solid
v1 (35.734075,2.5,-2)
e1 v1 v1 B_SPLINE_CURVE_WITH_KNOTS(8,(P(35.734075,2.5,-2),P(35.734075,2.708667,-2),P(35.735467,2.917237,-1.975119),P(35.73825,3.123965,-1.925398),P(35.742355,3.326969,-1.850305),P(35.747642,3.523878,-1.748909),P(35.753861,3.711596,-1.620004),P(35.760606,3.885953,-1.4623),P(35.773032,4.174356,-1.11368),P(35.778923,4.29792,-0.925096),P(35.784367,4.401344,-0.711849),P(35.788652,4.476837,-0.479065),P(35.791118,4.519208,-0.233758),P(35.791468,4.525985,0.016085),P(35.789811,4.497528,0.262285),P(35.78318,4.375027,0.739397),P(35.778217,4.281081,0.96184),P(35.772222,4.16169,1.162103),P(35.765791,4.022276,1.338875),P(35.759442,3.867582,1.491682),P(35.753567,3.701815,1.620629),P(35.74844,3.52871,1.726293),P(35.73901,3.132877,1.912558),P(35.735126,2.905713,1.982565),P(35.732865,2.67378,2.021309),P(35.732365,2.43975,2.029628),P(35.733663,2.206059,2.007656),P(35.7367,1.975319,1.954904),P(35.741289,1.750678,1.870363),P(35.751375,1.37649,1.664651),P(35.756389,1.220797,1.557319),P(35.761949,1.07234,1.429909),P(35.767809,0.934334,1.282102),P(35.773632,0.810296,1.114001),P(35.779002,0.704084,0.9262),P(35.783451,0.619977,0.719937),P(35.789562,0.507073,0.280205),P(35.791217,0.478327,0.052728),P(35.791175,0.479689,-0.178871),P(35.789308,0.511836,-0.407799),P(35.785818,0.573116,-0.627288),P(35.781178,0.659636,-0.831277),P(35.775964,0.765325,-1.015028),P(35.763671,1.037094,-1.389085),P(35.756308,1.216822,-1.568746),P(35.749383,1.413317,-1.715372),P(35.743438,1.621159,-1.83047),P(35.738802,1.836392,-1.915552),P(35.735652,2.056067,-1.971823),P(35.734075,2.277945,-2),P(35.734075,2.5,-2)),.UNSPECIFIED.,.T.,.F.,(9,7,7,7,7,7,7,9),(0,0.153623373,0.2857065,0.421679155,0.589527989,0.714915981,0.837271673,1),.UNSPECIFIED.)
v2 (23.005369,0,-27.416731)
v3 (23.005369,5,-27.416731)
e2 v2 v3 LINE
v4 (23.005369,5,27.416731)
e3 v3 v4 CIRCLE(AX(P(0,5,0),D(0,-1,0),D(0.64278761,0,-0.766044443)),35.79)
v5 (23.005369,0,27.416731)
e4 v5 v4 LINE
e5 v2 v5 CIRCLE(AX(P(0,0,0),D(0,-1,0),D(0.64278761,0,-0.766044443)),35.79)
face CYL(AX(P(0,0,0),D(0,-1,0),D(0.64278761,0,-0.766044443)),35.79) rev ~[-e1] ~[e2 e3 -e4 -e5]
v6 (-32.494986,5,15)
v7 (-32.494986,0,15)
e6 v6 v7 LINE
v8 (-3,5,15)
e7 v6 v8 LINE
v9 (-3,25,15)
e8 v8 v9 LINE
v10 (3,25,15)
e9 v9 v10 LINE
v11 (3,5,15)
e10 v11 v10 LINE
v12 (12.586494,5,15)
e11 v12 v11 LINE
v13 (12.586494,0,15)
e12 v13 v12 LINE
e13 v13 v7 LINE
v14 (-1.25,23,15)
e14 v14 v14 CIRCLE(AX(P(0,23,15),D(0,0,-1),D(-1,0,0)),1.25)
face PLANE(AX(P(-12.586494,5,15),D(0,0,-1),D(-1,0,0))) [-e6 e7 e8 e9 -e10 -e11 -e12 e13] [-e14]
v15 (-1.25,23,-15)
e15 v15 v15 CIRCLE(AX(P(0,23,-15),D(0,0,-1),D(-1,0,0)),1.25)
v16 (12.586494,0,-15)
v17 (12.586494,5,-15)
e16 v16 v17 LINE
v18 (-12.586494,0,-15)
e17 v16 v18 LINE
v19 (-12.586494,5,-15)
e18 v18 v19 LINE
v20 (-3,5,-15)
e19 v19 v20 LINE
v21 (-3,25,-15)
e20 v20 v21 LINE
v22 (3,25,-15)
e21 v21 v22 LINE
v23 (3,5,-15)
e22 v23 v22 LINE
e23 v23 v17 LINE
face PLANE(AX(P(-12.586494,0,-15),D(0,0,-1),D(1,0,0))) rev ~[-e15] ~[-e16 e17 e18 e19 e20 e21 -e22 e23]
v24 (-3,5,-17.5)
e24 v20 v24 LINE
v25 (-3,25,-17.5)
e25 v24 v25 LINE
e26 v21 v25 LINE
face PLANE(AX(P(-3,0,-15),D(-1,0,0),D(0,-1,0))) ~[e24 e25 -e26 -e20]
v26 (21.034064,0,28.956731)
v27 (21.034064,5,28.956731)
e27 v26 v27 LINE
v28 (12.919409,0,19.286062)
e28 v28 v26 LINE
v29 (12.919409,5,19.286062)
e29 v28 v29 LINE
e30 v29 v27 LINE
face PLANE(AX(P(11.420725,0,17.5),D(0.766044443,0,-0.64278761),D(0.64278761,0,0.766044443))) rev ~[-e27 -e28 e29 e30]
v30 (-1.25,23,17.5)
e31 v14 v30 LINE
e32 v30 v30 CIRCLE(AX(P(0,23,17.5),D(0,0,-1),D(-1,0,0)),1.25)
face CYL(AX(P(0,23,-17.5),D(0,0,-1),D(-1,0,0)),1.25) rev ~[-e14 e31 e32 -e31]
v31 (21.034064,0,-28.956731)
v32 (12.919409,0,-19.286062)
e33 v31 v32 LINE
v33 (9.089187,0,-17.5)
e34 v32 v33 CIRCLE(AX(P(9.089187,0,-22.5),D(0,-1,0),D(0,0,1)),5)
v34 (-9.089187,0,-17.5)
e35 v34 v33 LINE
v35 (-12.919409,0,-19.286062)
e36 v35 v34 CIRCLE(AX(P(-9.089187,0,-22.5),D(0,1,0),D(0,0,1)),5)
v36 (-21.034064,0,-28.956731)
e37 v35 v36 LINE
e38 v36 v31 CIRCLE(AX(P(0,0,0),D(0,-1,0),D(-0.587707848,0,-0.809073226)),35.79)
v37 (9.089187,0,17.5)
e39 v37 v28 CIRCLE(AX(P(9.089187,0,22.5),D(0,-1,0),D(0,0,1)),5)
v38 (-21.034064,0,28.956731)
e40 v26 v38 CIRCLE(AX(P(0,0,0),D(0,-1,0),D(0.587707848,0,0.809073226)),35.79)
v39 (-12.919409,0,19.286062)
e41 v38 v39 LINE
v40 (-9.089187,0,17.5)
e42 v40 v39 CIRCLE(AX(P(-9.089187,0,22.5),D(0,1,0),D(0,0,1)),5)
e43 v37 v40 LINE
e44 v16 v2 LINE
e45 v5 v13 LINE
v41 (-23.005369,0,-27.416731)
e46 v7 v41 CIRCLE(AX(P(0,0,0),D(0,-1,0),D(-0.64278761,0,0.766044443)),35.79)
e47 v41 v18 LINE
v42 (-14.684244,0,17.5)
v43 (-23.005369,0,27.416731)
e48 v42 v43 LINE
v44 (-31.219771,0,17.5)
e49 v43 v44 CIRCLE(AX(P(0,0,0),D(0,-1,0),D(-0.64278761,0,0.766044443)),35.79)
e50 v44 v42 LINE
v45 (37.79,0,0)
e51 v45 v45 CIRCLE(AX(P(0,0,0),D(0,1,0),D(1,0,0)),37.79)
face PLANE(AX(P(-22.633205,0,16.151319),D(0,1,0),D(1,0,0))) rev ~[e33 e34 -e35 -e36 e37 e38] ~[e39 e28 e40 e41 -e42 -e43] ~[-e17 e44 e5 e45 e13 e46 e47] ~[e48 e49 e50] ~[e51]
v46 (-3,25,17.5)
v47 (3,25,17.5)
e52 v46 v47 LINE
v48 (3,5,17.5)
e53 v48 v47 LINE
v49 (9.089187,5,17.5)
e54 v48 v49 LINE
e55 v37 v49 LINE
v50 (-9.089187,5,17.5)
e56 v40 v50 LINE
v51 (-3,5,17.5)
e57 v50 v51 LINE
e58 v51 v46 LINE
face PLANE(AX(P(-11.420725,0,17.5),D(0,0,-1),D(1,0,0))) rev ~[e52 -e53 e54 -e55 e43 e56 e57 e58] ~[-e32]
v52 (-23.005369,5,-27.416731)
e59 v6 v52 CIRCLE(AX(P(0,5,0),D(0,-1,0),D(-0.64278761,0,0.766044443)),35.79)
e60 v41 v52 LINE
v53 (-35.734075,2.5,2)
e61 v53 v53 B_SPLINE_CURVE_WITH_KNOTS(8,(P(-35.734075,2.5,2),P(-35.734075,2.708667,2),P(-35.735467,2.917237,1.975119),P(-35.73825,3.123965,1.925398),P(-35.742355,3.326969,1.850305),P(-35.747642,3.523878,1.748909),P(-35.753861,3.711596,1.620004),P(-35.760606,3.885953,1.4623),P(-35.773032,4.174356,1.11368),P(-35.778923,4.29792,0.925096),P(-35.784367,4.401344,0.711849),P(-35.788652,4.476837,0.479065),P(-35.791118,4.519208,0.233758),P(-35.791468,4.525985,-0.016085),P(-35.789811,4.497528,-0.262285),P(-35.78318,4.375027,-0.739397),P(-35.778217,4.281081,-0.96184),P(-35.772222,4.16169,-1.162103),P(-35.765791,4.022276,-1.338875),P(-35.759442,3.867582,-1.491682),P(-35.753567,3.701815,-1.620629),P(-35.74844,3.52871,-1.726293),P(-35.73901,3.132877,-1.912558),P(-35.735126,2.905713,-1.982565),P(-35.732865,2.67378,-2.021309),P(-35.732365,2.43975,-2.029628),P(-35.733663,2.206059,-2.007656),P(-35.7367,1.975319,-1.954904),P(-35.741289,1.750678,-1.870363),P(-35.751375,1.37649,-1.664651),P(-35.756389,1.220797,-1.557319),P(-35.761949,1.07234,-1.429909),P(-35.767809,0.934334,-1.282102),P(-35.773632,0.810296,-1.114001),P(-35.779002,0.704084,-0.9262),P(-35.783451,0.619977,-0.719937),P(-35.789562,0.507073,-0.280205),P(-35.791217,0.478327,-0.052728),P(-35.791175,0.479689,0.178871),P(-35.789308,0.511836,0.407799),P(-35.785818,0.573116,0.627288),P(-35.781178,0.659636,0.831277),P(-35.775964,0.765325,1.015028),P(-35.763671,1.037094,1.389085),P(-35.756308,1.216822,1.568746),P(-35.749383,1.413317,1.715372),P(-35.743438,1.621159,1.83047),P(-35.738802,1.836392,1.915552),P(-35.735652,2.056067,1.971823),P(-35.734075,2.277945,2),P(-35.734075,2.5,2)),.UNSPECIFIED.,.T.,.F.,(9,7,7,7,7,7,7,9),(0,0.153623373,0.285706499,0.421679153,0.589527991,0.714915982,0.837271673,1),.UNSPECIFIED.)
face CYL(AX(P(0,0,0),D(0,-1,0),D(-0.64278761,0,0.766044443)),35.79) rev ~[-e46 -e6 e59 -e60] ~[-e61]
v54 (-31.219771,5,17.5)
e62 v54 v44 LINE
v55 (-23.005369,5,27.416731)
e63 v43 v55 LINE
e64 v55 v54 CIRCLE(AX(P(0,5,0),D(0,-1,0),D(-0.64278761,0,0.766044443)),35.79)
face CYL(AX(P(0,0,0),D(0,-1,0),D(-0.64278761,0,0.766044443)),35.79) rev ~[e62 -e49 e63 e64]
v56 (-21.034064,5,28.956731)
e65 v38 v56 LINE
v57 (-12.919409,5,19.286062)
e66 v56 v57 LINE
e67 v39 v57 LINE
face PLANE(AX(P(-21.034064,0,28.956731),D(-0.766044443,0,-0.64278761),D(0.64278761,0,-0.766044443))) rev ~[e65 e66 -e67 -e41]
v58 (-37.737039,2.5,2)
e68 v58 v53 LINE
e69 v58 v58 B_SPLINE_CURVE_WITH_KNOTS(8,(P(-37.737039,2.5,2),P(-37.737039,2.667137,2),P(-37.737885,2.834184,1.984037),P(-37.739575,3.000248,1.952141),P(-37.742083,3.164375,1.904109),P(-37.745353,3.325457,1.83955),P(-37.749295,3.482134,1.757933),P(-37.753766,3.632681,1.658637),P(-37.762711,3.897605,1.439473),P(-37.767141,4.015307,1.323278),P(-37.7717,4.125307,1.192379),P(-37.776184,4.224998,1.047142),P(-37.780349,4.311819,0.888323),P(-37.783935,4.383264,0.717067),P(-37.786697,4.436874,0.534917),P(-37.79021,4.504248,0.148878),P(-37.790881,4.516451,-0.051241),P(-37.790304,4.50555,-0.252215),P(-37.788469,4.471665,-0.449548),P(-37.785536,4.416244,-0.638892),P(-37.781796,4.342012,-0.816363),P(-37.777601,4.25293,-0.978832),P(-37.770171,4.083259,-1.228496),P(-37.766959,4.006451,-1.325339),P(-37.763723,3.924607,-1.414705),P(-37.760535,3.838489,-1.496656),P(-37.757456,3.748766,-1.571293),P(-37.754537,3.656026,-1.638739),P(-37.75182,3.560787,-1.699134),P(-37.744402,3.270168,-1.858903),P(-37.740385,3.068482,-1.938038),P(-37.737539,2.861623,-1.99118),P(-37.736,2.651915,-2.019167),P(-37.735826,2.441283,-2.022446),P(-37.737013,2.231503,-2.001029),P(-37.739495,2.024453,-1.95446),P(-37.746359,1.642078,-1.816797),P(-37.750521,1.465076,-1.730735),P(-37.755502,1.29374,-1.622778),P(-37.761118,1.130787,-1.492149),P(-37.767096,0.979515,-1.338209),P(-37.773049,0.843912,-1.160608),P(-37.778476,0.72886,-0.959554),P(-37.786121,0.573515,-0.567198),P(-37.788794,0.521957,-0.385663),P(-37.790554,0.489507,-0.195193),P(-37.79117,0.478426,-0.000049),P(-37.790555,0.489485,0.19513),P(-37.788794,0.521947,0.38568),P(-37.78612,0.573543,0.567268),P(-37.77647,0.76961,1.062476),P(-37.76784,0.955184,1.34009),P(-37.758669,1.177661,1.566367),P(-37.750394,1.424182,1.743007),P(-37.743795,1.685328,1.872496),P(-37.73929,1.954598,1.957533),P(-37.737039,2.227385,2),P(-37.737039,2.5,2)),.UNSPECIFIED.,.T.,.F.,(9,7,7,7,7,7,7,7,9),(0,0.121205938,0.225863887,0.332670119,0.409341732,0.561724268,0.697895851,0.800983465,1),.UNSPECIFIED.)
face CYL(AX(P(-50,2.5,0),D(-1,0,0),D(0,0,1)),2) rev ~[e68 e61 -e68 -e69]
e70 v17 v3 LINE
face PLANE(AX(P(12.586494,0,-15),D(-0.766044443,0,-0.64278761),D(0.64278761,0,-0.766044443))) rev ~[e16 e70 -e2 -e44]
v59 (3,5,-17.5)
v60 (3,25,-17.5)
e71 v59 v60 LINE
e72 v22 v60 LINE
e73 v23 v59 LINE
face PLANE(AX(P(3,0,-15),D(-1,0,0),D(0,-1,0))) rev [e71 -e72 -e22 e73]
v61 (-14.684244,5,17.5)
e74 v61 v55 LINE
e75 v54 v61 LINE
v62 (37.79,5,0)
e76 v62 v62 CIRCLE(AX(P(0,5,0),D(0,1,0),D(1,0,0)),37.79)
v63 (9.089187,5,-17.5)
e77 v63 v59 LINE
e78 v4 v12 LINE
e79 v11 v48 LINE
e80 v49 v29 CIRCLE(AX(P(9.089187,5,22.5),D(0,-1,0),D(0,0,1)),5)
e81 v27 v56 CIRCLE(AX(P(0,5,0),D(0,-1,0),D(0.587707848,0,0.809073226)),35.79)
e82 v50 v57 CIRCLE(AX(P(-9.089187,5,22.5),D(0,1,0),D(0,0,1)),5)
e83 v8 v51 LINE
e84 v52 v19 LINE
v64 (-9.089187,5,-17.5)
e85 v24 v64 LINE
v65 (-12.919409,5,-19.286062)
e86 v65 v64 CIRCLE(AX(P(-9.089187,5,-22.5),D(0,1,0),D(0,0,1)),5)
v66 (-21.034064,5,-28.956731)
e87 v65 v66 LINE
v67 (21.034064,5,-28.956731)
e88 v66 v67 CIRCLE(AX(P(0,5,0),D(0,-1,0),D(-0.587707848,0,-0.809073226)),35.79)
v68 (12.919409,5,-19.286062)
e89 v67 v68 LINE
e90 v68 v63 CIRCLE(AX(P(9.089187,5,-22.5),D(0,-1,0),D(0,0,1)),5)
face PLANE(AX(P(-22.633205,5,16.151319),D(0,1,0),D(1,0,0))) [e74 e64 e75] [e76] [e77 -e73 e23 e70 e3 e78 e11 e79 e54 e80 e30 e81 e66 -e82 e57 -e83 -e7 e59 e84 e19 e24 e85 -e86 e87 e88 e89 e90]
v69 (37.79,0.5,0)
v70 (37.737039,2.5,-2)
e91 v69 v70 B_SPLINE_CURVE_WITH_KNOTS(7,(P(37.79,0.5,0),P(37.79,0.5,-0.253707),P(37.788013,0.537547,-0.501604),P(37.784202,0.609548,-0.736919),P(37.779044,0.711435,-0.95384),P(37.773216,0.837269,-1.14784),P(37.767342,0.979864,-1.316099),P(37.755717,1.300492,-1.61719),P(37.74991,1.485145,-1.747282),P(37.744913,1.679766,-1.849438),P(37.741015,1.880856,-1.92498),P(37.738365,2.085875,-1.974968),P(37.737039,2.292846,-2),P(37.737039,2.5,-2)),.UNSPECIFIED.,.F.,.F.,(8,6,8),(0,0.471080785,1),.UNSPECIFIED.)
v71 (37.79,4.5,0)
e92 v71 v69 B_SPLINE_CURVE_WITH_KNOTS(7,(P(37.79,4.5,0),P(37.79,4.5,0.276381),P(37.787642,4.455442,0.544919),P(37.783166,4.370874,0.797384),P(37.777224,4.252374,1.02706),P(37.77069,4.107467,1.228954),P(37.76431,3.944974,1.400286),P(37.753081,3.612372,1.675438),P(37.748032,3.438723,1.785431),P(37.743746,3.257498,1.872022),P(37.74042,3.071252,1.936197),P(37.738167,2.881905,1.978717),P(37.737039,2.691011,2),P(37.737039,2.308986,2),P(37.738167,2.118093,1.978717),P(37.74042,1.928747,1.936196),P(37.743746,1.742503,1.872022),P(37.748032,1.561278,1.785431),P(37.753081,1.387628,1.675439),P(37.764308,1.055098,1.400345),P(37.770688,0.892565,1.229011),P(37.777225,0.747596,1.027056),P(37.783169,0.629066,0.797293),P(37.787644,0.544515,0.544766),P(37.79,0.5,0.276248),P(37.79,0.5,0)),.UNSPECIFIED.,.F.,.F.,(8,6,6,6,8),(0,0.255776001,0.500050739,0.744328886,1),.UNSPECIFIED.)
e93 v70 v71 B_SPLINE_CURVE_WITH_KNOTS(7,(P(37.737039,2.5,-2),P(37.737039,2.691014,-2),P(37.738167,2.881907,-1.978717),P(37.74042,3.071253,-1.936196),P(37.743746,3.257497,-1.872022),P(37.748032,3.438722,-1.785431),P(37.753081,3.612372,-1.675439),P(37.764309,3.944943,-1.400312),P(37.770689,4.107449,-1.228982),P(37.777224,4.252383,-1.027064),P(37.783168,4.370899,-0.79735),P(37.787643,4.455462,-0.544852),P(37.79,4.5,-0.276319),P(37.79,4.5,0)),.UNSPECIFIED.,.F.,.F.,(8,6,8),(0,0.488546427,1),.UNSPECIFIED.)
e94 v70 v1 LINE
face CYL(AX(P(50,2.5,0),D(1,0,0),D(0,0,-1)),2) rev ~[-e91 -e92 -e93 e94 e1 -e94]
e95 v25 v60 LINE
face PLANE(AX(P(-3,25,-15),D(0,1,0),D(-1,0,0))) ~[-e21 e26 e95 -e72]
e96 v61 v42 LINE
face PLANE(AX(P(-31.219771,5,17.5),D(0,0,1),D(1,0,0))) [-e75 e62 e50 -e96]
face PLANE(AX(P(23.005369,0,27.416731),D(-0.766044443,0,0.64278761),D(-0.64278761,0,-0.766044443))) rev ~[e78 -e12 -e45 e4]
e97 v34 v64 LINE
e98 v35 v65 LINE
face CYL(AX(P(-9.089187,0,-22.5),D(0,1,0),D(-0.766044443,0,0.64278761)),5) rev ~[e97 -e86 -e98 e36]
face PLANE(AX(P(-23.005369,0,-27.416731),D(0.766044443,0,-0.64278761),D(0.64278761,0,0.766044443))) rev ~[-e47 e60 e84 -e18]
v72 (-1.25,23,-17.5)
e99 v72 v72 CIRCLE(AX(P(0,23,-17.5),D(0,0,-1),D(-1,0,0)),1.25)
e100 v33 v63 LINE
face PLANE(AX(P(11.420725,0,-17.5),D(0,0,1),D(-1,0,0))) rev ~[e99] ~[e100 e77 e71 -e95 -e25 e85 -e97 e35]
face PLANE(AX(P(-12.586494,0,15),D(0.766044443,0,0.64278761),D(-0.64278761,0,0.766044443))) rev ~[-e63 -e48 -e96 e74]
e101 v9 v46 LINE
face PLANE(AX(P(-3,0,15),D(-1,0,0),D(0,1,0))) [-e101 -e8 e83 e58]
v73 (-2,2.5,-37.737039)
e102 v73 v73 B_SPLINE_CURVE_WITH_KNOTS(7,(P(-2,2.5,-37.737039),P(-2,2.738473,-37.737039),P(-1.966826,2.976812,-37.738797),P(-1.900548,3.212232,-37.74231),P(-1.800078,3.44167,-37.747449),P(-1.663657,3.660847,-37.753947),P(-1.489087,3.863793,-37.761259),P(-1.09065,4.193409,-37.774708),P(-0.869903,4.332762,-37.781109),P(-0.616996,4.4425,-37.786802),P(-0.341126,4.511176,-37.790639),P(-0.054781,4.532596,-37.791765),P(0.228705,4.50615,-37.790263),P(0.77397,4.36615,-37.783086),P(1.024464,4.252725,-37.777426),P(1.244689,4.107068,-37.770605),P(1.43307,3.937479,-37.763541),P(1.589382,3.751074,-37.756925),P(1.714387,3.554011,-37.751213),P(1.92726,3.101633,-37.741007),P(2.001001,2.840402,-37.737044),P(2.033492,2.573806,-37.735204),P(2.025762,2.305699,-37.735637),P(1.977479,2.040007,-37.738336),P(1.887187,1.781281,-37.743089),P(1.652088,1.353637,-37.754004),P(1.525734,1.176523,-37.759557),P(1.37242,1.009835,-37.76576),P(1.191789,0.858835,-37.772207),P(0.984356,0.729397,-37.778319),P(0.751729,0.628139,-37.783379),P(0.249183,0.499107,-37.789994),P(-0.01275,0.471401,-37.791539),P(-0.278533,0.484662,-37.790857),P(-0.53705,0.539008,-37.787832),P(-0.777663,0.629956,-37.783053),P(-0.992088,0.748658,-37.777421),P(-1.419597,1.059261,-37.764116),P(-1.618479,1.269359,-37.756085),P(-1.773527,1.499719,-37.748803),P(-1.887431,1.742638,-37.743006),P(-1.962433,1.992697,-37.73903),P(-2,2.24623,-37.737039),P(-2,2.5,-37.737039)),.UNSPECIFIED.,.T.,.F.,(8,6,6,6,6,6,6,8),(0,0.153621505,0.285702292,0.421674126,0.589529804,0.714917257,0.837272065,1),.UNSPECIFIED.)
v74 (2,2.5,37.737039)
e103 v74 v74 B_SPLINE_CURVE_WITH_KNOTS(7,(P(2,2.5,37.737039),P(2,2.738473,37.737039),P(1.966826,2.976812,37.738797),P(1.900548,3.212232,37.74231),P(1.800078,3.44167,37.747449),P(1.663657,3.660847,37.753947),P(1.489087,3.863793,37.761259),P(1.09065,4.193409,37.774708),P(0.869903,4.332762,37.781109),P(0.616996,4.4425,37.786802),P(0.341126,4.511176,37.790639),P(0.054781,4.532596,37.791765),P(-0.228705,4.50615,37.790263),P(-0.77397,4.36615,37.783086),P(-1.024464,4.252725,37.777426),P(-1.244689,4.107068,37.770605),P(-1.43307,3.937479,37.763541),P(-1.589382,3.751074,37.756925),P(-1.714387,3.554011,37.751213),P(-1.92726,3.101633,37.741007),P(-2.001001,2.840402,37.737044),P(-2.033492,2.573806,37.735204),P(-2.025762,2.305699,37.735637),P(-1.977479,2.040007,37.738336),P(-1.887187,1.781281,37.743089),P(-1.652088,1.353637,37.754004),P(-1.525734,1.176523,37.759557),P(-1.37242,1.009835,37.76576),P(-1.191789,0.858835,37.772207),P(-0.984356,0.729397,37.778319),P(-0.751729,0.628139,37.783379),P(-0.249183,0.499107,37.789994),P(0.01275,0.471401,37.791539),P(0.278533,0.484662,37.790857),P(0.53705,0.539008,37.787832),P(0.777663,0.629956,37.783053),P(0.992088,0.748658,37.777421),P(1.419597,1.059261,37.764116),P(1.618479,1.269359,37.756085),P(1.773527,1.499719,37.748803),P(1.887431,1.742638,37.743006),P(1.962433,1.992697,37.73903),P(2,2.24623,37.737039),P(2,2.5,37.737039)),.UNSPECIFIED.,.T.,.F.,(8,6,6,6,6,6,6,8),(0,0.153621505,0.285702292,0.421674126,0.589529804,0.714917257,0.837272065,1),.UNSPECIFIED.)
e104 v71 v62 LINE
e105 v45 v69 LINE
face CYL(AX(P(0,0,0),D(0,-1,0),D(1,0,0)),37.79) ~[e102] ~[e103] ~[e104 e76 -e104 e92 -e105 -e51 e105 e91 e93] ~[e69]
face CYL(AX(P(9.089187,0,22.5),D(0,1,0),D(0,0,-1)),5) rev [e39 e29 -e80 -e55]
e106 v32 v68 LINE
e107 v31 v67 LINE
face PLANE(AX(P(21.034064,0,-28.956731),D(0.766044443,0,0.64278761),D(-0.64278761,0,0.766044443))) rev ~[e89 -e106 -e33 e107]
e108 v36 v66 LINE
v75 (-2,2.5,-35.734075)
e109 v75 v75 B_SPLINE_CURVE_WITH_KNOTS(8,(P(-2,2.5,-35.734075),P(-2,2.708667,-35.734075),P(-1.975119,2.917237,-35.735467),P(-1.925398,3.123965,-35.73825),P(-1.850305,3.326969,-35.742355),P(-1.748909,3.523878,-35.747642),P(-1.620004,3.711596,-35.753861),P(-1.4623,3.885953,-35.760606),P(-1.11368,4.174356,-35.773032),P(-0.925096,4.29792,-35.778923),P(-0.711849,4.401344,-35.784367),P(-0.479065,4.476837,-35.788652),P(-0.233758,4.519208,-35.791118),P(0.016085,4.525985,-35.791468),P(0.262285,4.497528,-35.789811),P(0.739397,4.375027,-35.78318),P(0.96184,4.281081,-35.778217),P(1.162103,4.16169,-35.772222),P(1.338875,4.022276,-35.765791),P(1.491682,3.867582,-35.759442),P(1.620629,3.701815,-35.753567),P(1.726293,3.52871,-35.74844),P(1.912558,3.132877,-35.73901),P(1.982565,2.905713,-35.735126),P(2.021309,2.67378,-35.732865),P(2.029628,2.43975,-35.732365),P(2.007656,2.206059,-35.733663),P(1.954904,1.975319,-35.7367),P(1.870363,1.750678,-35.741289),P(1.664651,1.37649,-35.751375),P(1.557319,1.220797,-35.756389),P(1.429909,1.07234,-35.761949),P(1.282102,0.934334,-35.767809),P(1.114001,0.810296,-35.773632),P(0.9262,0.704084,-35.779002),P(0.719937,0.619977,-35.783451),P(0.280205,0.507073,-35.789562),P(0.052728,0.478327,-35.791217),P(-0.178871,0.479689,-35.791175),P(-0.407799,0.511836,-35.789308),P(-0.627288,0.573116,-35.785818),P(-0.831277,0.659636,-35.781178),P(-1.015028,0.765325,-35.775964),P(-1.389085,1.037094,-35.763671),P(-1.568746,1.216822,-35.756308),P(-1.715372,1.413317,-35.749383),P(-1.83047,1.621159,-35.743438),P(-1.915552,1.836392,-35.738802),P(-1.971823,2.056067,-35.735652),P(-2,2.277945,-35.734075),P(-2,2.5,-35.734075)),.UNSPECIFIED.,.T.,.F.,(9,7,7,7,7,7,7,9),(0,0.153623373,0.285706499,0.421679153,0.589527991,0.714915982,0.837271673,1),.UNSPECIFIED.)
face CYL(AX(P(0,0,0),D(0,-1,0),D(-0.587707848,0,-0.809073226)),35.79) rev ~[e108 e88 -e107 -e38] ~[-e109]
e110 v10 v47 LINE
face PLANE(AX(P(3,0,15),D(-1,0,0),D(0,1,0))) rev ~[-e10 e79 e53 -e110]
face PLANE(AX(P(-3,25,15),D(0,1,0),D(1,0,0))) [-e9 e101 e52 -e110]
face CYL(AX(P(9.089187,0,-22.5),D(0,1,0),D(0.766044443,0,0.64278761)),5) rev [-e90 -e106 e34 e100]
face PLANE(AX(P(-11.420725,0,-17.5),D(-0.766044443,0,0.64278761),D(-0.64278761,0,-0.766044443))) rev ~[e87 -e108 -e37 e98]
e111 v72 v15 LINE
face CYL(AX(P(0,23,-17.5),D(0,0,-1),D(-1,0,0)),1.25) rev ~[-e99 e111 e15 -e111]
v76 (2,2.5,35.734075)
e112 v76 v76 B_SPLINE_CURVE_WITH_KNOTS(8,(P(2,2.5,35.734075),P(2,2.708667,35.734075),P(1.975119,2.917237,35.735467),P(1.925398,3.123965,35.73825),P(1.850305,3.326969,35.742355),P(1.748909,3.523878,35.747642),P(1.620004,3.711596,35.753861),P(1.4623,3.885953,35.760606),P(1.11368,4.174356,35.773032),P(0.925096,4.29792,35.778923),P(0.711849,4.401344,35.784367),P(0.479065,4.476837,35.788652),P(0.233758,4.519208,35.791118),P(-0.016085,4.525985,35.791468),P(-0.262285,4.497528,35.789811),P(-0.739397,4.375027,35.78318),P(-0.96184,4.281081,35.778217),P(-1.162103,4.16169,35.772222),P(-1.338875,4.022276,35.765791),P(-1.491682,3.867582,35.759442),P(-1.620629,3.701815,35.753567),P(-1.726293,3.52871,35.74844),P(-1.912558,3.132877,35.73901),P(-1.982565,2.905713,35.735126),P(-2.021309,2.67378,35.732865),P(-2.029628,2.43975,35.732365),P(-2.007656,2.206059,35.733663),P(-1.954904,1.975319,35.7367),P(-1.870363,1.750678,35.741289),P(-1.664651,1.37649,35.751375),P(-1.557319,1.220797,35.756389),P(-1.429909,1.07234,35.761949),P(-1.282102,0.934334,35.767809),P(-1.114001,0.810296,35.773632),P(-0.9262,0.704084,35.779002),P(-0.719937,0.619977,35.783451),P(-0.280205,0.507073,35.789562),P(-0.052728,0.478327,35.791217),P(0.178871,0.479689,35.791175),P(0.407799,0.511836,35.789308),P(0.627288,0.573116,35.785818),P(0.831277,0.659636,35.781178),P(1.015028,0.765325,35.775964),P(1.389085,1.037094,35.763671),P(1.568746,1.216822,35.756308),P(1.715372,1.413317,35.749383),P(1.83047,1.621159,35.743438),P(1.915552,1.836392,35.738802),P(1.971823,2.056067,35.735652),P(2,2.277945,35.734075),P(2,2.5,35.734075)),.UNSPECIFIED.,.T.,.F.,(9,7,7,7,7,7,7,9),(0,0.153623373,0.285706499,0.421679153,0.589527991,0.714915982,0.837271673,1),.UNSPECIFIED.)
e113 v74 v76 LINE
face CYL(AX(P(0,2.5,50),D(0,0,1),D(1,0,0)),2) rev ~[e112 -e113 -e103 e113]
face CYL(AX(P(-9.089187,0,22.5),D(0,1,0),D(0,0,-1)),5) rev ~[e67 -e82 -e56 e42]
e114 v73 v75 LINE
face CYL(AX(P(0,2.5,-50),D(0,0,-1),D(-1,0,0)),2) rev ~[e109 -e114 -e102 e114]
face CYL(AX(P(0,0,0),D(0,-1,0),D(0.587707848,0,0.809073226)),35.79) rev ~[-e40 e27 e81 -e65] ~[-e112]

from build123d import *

# Parameters (mm, degrees)
CROQUIS2_R                 = 37.79
SALIENTE_EXTRUIR1_DEPTH    = 5
CROQUIS4_W                 = 6
CROQUIS4_H                 = 25
SALIENTE_EXTRUIR3_DEPTH    = 2.5
CROQUIS5_R                 = 1.25
CORTAR_EXTRUIR1_DEPTH      = 21.29
CORTAR_EXTRUIR1_DEPTH_BACK = 56.29
REDONDEO1_R                = 5
CORTAR_EXTRUIR2_START      = 50
CROQUIS6_R                 = 2
CORTAR_EXTRUIR2_DEPTH      = 17
MATRIZC1_COUNT             = 4
SALIENTE_EXTRUIR5_DEPTH    = 5


with BuildPart() as part:
    # Croquis2 → Saliente-Extruir1 (new body)
    with BuildSketch(Plane(origin=(0, 0, 0), x_dir=(1, 0, 0), z_dir=(0, 1, 0))):
        Circle(CROQUIS2_R)
        with BuildLine():
            Line((-12.586494468, 15), (12.586494468, 15))
            Line((12.586494468, 15), (23.005368551, 27.416730619))
            ThreePointArc((23.005368551, 27.416730619), (35.79, 0), (23.005368551, -27.416730619))
            Line((23.005368551, -27.416730619), (12.586494468, -15))
            Line((12.586494468, -15), (-12.586494468, -15))
            Line((-12.586494468, -15), (-23.005368551, -27.416730619))
            ThreePointArc((-23.005368551, -27.416730619), (-35.79, 0), (-23.005368551, 27.416730619))
            Line((-23.005368551, 27.416730619), (-12.586494468, 15))
        make_face(mode=Mode.SUBTRACT)
        with BuildLine():
            Line((-11.420725322, 17.5), (-21.034063882, 28.956730765))
            ThreePointArc((-21.034063882, 28.956730765), (0, 35.79), (21.034063882, 28.956730765))
            Line((21.034063882, 28.956730765), (11.420725322, 17.5))
            Line((11.420725322, 17.5), (-11.420725322, 17.5))
        make_face(mode=Mode.SUBTRACT)
        with BuildLine():
            ThreePointArc((21.034063882, -28.956730765), (0, -35.79), (-21.034063882, -28.956730765))
            Line((-21.034063882, -28.956730765), (-11.420725322, -17.5))
            Line((-11.420725322, -17.5), (11.420725322, -17.5))
            Line((11.420725322, -17.5), (21.034063882, -28.956730765))
        make_face(mode=Mode.SUBTRACT)
    extrude(amount=SALIENTE_EXTRUIR1_DEPTH)

    # Croquis4 → Saliente-Extruir3 (add)
    with BuildSketch(Plane.XY.offset(15)):
        with Locations((0, 12.5)):
            Rectangle(CROQUIS4_W, CROQUIS4_H)
    saliente_extruir3 = extrude(amount=SALIENTE_EXTRUIR3_DEPTH)

    # Simetría1: Saliente-Extruir3 across plane
    add(saliente_extruir3.mirror(Plane.XY))

    # Croquis5 → Cortar-Extruir1 (cut, two sides)
    with BuildSketch(Plane(origin=(0, 0, -17.5), x_dir=(-1, 0, 0), z_dir=(0, 0, -1))) as cortar_extruir1_sk:
        with Locations((0, 23)):
            Circle(CROQUIS5_R)
    extrude(amount=CORTAR_EXTRUIR1_DEPTH, mode=Mode.SUBTRACT)
    extrude(cortar_extruir1_sk.sketch, amount=-CORTAR_EXTRUIR1_DEPTH_BACK, mode=Mode.SUBTRACT)

    # Redondeo1
    redondeo1_edges = [part.edges().sort_by_distance(p)[0] for p in [
        (-11.420725322, 2.5, -17.5),
        (11.420725322, 2.5, -17.5),
        (11.420725322, 2.5, 17.5),
        (-11.420725322, 2.5, 17.5),
    ]]
    fillet(redondeo1_edges, radius=REDONDEO1_R)

    # Croquis6 → Cortar-Extruir2 (cut)
    with BuildSketch(Plane.XY.offset(CORTAR_EXTRUIR2_START)):
        with Locations((0, 2.5)):
            Circle(CROQUIS6_R)
    cortar_extruir2 = extrude(amount=-CORTAR_EXTRUIR2_DEPTH, mode=Mode.SUBTRACT)

    # MatrizC1: Cortar-Extruir2 ×4 about axis
    matrizc1_axis = Axis((0, 0, 0), (0, -1, 0))
    for i in range(1, MATRIZC1_COUNT):
        add(cortar_extruir2.rotate(matrizc1_axis, i * 360 / MATRIZC1_COUNT), mode=Mode.SUBTRACT)

    # Croquis8 → Saliente-Extruir5 (add)
    with BuildSketch(Plane(origin=(0, 5, 0), x_dir=(1, 0, 0), z_dir=(0, 1, 0))):
        with BuildLine():
            Line((-14.684243546, -17.5), (-12.586494468, -15))
            Line((-12.586494468, -15), (-32.494985767, -15))
            ThreePointArc((-32.494985767, -15), (-31.881892303, -16.26250421), (-31.219770979, -17.5))
            Line((-31.219770979, -17.5), (-14.684243546, -17.5))
        make_face()
    extrude(amount=-SALIENTE_EXTRUIR5_DEPTH)


solid = part.part
